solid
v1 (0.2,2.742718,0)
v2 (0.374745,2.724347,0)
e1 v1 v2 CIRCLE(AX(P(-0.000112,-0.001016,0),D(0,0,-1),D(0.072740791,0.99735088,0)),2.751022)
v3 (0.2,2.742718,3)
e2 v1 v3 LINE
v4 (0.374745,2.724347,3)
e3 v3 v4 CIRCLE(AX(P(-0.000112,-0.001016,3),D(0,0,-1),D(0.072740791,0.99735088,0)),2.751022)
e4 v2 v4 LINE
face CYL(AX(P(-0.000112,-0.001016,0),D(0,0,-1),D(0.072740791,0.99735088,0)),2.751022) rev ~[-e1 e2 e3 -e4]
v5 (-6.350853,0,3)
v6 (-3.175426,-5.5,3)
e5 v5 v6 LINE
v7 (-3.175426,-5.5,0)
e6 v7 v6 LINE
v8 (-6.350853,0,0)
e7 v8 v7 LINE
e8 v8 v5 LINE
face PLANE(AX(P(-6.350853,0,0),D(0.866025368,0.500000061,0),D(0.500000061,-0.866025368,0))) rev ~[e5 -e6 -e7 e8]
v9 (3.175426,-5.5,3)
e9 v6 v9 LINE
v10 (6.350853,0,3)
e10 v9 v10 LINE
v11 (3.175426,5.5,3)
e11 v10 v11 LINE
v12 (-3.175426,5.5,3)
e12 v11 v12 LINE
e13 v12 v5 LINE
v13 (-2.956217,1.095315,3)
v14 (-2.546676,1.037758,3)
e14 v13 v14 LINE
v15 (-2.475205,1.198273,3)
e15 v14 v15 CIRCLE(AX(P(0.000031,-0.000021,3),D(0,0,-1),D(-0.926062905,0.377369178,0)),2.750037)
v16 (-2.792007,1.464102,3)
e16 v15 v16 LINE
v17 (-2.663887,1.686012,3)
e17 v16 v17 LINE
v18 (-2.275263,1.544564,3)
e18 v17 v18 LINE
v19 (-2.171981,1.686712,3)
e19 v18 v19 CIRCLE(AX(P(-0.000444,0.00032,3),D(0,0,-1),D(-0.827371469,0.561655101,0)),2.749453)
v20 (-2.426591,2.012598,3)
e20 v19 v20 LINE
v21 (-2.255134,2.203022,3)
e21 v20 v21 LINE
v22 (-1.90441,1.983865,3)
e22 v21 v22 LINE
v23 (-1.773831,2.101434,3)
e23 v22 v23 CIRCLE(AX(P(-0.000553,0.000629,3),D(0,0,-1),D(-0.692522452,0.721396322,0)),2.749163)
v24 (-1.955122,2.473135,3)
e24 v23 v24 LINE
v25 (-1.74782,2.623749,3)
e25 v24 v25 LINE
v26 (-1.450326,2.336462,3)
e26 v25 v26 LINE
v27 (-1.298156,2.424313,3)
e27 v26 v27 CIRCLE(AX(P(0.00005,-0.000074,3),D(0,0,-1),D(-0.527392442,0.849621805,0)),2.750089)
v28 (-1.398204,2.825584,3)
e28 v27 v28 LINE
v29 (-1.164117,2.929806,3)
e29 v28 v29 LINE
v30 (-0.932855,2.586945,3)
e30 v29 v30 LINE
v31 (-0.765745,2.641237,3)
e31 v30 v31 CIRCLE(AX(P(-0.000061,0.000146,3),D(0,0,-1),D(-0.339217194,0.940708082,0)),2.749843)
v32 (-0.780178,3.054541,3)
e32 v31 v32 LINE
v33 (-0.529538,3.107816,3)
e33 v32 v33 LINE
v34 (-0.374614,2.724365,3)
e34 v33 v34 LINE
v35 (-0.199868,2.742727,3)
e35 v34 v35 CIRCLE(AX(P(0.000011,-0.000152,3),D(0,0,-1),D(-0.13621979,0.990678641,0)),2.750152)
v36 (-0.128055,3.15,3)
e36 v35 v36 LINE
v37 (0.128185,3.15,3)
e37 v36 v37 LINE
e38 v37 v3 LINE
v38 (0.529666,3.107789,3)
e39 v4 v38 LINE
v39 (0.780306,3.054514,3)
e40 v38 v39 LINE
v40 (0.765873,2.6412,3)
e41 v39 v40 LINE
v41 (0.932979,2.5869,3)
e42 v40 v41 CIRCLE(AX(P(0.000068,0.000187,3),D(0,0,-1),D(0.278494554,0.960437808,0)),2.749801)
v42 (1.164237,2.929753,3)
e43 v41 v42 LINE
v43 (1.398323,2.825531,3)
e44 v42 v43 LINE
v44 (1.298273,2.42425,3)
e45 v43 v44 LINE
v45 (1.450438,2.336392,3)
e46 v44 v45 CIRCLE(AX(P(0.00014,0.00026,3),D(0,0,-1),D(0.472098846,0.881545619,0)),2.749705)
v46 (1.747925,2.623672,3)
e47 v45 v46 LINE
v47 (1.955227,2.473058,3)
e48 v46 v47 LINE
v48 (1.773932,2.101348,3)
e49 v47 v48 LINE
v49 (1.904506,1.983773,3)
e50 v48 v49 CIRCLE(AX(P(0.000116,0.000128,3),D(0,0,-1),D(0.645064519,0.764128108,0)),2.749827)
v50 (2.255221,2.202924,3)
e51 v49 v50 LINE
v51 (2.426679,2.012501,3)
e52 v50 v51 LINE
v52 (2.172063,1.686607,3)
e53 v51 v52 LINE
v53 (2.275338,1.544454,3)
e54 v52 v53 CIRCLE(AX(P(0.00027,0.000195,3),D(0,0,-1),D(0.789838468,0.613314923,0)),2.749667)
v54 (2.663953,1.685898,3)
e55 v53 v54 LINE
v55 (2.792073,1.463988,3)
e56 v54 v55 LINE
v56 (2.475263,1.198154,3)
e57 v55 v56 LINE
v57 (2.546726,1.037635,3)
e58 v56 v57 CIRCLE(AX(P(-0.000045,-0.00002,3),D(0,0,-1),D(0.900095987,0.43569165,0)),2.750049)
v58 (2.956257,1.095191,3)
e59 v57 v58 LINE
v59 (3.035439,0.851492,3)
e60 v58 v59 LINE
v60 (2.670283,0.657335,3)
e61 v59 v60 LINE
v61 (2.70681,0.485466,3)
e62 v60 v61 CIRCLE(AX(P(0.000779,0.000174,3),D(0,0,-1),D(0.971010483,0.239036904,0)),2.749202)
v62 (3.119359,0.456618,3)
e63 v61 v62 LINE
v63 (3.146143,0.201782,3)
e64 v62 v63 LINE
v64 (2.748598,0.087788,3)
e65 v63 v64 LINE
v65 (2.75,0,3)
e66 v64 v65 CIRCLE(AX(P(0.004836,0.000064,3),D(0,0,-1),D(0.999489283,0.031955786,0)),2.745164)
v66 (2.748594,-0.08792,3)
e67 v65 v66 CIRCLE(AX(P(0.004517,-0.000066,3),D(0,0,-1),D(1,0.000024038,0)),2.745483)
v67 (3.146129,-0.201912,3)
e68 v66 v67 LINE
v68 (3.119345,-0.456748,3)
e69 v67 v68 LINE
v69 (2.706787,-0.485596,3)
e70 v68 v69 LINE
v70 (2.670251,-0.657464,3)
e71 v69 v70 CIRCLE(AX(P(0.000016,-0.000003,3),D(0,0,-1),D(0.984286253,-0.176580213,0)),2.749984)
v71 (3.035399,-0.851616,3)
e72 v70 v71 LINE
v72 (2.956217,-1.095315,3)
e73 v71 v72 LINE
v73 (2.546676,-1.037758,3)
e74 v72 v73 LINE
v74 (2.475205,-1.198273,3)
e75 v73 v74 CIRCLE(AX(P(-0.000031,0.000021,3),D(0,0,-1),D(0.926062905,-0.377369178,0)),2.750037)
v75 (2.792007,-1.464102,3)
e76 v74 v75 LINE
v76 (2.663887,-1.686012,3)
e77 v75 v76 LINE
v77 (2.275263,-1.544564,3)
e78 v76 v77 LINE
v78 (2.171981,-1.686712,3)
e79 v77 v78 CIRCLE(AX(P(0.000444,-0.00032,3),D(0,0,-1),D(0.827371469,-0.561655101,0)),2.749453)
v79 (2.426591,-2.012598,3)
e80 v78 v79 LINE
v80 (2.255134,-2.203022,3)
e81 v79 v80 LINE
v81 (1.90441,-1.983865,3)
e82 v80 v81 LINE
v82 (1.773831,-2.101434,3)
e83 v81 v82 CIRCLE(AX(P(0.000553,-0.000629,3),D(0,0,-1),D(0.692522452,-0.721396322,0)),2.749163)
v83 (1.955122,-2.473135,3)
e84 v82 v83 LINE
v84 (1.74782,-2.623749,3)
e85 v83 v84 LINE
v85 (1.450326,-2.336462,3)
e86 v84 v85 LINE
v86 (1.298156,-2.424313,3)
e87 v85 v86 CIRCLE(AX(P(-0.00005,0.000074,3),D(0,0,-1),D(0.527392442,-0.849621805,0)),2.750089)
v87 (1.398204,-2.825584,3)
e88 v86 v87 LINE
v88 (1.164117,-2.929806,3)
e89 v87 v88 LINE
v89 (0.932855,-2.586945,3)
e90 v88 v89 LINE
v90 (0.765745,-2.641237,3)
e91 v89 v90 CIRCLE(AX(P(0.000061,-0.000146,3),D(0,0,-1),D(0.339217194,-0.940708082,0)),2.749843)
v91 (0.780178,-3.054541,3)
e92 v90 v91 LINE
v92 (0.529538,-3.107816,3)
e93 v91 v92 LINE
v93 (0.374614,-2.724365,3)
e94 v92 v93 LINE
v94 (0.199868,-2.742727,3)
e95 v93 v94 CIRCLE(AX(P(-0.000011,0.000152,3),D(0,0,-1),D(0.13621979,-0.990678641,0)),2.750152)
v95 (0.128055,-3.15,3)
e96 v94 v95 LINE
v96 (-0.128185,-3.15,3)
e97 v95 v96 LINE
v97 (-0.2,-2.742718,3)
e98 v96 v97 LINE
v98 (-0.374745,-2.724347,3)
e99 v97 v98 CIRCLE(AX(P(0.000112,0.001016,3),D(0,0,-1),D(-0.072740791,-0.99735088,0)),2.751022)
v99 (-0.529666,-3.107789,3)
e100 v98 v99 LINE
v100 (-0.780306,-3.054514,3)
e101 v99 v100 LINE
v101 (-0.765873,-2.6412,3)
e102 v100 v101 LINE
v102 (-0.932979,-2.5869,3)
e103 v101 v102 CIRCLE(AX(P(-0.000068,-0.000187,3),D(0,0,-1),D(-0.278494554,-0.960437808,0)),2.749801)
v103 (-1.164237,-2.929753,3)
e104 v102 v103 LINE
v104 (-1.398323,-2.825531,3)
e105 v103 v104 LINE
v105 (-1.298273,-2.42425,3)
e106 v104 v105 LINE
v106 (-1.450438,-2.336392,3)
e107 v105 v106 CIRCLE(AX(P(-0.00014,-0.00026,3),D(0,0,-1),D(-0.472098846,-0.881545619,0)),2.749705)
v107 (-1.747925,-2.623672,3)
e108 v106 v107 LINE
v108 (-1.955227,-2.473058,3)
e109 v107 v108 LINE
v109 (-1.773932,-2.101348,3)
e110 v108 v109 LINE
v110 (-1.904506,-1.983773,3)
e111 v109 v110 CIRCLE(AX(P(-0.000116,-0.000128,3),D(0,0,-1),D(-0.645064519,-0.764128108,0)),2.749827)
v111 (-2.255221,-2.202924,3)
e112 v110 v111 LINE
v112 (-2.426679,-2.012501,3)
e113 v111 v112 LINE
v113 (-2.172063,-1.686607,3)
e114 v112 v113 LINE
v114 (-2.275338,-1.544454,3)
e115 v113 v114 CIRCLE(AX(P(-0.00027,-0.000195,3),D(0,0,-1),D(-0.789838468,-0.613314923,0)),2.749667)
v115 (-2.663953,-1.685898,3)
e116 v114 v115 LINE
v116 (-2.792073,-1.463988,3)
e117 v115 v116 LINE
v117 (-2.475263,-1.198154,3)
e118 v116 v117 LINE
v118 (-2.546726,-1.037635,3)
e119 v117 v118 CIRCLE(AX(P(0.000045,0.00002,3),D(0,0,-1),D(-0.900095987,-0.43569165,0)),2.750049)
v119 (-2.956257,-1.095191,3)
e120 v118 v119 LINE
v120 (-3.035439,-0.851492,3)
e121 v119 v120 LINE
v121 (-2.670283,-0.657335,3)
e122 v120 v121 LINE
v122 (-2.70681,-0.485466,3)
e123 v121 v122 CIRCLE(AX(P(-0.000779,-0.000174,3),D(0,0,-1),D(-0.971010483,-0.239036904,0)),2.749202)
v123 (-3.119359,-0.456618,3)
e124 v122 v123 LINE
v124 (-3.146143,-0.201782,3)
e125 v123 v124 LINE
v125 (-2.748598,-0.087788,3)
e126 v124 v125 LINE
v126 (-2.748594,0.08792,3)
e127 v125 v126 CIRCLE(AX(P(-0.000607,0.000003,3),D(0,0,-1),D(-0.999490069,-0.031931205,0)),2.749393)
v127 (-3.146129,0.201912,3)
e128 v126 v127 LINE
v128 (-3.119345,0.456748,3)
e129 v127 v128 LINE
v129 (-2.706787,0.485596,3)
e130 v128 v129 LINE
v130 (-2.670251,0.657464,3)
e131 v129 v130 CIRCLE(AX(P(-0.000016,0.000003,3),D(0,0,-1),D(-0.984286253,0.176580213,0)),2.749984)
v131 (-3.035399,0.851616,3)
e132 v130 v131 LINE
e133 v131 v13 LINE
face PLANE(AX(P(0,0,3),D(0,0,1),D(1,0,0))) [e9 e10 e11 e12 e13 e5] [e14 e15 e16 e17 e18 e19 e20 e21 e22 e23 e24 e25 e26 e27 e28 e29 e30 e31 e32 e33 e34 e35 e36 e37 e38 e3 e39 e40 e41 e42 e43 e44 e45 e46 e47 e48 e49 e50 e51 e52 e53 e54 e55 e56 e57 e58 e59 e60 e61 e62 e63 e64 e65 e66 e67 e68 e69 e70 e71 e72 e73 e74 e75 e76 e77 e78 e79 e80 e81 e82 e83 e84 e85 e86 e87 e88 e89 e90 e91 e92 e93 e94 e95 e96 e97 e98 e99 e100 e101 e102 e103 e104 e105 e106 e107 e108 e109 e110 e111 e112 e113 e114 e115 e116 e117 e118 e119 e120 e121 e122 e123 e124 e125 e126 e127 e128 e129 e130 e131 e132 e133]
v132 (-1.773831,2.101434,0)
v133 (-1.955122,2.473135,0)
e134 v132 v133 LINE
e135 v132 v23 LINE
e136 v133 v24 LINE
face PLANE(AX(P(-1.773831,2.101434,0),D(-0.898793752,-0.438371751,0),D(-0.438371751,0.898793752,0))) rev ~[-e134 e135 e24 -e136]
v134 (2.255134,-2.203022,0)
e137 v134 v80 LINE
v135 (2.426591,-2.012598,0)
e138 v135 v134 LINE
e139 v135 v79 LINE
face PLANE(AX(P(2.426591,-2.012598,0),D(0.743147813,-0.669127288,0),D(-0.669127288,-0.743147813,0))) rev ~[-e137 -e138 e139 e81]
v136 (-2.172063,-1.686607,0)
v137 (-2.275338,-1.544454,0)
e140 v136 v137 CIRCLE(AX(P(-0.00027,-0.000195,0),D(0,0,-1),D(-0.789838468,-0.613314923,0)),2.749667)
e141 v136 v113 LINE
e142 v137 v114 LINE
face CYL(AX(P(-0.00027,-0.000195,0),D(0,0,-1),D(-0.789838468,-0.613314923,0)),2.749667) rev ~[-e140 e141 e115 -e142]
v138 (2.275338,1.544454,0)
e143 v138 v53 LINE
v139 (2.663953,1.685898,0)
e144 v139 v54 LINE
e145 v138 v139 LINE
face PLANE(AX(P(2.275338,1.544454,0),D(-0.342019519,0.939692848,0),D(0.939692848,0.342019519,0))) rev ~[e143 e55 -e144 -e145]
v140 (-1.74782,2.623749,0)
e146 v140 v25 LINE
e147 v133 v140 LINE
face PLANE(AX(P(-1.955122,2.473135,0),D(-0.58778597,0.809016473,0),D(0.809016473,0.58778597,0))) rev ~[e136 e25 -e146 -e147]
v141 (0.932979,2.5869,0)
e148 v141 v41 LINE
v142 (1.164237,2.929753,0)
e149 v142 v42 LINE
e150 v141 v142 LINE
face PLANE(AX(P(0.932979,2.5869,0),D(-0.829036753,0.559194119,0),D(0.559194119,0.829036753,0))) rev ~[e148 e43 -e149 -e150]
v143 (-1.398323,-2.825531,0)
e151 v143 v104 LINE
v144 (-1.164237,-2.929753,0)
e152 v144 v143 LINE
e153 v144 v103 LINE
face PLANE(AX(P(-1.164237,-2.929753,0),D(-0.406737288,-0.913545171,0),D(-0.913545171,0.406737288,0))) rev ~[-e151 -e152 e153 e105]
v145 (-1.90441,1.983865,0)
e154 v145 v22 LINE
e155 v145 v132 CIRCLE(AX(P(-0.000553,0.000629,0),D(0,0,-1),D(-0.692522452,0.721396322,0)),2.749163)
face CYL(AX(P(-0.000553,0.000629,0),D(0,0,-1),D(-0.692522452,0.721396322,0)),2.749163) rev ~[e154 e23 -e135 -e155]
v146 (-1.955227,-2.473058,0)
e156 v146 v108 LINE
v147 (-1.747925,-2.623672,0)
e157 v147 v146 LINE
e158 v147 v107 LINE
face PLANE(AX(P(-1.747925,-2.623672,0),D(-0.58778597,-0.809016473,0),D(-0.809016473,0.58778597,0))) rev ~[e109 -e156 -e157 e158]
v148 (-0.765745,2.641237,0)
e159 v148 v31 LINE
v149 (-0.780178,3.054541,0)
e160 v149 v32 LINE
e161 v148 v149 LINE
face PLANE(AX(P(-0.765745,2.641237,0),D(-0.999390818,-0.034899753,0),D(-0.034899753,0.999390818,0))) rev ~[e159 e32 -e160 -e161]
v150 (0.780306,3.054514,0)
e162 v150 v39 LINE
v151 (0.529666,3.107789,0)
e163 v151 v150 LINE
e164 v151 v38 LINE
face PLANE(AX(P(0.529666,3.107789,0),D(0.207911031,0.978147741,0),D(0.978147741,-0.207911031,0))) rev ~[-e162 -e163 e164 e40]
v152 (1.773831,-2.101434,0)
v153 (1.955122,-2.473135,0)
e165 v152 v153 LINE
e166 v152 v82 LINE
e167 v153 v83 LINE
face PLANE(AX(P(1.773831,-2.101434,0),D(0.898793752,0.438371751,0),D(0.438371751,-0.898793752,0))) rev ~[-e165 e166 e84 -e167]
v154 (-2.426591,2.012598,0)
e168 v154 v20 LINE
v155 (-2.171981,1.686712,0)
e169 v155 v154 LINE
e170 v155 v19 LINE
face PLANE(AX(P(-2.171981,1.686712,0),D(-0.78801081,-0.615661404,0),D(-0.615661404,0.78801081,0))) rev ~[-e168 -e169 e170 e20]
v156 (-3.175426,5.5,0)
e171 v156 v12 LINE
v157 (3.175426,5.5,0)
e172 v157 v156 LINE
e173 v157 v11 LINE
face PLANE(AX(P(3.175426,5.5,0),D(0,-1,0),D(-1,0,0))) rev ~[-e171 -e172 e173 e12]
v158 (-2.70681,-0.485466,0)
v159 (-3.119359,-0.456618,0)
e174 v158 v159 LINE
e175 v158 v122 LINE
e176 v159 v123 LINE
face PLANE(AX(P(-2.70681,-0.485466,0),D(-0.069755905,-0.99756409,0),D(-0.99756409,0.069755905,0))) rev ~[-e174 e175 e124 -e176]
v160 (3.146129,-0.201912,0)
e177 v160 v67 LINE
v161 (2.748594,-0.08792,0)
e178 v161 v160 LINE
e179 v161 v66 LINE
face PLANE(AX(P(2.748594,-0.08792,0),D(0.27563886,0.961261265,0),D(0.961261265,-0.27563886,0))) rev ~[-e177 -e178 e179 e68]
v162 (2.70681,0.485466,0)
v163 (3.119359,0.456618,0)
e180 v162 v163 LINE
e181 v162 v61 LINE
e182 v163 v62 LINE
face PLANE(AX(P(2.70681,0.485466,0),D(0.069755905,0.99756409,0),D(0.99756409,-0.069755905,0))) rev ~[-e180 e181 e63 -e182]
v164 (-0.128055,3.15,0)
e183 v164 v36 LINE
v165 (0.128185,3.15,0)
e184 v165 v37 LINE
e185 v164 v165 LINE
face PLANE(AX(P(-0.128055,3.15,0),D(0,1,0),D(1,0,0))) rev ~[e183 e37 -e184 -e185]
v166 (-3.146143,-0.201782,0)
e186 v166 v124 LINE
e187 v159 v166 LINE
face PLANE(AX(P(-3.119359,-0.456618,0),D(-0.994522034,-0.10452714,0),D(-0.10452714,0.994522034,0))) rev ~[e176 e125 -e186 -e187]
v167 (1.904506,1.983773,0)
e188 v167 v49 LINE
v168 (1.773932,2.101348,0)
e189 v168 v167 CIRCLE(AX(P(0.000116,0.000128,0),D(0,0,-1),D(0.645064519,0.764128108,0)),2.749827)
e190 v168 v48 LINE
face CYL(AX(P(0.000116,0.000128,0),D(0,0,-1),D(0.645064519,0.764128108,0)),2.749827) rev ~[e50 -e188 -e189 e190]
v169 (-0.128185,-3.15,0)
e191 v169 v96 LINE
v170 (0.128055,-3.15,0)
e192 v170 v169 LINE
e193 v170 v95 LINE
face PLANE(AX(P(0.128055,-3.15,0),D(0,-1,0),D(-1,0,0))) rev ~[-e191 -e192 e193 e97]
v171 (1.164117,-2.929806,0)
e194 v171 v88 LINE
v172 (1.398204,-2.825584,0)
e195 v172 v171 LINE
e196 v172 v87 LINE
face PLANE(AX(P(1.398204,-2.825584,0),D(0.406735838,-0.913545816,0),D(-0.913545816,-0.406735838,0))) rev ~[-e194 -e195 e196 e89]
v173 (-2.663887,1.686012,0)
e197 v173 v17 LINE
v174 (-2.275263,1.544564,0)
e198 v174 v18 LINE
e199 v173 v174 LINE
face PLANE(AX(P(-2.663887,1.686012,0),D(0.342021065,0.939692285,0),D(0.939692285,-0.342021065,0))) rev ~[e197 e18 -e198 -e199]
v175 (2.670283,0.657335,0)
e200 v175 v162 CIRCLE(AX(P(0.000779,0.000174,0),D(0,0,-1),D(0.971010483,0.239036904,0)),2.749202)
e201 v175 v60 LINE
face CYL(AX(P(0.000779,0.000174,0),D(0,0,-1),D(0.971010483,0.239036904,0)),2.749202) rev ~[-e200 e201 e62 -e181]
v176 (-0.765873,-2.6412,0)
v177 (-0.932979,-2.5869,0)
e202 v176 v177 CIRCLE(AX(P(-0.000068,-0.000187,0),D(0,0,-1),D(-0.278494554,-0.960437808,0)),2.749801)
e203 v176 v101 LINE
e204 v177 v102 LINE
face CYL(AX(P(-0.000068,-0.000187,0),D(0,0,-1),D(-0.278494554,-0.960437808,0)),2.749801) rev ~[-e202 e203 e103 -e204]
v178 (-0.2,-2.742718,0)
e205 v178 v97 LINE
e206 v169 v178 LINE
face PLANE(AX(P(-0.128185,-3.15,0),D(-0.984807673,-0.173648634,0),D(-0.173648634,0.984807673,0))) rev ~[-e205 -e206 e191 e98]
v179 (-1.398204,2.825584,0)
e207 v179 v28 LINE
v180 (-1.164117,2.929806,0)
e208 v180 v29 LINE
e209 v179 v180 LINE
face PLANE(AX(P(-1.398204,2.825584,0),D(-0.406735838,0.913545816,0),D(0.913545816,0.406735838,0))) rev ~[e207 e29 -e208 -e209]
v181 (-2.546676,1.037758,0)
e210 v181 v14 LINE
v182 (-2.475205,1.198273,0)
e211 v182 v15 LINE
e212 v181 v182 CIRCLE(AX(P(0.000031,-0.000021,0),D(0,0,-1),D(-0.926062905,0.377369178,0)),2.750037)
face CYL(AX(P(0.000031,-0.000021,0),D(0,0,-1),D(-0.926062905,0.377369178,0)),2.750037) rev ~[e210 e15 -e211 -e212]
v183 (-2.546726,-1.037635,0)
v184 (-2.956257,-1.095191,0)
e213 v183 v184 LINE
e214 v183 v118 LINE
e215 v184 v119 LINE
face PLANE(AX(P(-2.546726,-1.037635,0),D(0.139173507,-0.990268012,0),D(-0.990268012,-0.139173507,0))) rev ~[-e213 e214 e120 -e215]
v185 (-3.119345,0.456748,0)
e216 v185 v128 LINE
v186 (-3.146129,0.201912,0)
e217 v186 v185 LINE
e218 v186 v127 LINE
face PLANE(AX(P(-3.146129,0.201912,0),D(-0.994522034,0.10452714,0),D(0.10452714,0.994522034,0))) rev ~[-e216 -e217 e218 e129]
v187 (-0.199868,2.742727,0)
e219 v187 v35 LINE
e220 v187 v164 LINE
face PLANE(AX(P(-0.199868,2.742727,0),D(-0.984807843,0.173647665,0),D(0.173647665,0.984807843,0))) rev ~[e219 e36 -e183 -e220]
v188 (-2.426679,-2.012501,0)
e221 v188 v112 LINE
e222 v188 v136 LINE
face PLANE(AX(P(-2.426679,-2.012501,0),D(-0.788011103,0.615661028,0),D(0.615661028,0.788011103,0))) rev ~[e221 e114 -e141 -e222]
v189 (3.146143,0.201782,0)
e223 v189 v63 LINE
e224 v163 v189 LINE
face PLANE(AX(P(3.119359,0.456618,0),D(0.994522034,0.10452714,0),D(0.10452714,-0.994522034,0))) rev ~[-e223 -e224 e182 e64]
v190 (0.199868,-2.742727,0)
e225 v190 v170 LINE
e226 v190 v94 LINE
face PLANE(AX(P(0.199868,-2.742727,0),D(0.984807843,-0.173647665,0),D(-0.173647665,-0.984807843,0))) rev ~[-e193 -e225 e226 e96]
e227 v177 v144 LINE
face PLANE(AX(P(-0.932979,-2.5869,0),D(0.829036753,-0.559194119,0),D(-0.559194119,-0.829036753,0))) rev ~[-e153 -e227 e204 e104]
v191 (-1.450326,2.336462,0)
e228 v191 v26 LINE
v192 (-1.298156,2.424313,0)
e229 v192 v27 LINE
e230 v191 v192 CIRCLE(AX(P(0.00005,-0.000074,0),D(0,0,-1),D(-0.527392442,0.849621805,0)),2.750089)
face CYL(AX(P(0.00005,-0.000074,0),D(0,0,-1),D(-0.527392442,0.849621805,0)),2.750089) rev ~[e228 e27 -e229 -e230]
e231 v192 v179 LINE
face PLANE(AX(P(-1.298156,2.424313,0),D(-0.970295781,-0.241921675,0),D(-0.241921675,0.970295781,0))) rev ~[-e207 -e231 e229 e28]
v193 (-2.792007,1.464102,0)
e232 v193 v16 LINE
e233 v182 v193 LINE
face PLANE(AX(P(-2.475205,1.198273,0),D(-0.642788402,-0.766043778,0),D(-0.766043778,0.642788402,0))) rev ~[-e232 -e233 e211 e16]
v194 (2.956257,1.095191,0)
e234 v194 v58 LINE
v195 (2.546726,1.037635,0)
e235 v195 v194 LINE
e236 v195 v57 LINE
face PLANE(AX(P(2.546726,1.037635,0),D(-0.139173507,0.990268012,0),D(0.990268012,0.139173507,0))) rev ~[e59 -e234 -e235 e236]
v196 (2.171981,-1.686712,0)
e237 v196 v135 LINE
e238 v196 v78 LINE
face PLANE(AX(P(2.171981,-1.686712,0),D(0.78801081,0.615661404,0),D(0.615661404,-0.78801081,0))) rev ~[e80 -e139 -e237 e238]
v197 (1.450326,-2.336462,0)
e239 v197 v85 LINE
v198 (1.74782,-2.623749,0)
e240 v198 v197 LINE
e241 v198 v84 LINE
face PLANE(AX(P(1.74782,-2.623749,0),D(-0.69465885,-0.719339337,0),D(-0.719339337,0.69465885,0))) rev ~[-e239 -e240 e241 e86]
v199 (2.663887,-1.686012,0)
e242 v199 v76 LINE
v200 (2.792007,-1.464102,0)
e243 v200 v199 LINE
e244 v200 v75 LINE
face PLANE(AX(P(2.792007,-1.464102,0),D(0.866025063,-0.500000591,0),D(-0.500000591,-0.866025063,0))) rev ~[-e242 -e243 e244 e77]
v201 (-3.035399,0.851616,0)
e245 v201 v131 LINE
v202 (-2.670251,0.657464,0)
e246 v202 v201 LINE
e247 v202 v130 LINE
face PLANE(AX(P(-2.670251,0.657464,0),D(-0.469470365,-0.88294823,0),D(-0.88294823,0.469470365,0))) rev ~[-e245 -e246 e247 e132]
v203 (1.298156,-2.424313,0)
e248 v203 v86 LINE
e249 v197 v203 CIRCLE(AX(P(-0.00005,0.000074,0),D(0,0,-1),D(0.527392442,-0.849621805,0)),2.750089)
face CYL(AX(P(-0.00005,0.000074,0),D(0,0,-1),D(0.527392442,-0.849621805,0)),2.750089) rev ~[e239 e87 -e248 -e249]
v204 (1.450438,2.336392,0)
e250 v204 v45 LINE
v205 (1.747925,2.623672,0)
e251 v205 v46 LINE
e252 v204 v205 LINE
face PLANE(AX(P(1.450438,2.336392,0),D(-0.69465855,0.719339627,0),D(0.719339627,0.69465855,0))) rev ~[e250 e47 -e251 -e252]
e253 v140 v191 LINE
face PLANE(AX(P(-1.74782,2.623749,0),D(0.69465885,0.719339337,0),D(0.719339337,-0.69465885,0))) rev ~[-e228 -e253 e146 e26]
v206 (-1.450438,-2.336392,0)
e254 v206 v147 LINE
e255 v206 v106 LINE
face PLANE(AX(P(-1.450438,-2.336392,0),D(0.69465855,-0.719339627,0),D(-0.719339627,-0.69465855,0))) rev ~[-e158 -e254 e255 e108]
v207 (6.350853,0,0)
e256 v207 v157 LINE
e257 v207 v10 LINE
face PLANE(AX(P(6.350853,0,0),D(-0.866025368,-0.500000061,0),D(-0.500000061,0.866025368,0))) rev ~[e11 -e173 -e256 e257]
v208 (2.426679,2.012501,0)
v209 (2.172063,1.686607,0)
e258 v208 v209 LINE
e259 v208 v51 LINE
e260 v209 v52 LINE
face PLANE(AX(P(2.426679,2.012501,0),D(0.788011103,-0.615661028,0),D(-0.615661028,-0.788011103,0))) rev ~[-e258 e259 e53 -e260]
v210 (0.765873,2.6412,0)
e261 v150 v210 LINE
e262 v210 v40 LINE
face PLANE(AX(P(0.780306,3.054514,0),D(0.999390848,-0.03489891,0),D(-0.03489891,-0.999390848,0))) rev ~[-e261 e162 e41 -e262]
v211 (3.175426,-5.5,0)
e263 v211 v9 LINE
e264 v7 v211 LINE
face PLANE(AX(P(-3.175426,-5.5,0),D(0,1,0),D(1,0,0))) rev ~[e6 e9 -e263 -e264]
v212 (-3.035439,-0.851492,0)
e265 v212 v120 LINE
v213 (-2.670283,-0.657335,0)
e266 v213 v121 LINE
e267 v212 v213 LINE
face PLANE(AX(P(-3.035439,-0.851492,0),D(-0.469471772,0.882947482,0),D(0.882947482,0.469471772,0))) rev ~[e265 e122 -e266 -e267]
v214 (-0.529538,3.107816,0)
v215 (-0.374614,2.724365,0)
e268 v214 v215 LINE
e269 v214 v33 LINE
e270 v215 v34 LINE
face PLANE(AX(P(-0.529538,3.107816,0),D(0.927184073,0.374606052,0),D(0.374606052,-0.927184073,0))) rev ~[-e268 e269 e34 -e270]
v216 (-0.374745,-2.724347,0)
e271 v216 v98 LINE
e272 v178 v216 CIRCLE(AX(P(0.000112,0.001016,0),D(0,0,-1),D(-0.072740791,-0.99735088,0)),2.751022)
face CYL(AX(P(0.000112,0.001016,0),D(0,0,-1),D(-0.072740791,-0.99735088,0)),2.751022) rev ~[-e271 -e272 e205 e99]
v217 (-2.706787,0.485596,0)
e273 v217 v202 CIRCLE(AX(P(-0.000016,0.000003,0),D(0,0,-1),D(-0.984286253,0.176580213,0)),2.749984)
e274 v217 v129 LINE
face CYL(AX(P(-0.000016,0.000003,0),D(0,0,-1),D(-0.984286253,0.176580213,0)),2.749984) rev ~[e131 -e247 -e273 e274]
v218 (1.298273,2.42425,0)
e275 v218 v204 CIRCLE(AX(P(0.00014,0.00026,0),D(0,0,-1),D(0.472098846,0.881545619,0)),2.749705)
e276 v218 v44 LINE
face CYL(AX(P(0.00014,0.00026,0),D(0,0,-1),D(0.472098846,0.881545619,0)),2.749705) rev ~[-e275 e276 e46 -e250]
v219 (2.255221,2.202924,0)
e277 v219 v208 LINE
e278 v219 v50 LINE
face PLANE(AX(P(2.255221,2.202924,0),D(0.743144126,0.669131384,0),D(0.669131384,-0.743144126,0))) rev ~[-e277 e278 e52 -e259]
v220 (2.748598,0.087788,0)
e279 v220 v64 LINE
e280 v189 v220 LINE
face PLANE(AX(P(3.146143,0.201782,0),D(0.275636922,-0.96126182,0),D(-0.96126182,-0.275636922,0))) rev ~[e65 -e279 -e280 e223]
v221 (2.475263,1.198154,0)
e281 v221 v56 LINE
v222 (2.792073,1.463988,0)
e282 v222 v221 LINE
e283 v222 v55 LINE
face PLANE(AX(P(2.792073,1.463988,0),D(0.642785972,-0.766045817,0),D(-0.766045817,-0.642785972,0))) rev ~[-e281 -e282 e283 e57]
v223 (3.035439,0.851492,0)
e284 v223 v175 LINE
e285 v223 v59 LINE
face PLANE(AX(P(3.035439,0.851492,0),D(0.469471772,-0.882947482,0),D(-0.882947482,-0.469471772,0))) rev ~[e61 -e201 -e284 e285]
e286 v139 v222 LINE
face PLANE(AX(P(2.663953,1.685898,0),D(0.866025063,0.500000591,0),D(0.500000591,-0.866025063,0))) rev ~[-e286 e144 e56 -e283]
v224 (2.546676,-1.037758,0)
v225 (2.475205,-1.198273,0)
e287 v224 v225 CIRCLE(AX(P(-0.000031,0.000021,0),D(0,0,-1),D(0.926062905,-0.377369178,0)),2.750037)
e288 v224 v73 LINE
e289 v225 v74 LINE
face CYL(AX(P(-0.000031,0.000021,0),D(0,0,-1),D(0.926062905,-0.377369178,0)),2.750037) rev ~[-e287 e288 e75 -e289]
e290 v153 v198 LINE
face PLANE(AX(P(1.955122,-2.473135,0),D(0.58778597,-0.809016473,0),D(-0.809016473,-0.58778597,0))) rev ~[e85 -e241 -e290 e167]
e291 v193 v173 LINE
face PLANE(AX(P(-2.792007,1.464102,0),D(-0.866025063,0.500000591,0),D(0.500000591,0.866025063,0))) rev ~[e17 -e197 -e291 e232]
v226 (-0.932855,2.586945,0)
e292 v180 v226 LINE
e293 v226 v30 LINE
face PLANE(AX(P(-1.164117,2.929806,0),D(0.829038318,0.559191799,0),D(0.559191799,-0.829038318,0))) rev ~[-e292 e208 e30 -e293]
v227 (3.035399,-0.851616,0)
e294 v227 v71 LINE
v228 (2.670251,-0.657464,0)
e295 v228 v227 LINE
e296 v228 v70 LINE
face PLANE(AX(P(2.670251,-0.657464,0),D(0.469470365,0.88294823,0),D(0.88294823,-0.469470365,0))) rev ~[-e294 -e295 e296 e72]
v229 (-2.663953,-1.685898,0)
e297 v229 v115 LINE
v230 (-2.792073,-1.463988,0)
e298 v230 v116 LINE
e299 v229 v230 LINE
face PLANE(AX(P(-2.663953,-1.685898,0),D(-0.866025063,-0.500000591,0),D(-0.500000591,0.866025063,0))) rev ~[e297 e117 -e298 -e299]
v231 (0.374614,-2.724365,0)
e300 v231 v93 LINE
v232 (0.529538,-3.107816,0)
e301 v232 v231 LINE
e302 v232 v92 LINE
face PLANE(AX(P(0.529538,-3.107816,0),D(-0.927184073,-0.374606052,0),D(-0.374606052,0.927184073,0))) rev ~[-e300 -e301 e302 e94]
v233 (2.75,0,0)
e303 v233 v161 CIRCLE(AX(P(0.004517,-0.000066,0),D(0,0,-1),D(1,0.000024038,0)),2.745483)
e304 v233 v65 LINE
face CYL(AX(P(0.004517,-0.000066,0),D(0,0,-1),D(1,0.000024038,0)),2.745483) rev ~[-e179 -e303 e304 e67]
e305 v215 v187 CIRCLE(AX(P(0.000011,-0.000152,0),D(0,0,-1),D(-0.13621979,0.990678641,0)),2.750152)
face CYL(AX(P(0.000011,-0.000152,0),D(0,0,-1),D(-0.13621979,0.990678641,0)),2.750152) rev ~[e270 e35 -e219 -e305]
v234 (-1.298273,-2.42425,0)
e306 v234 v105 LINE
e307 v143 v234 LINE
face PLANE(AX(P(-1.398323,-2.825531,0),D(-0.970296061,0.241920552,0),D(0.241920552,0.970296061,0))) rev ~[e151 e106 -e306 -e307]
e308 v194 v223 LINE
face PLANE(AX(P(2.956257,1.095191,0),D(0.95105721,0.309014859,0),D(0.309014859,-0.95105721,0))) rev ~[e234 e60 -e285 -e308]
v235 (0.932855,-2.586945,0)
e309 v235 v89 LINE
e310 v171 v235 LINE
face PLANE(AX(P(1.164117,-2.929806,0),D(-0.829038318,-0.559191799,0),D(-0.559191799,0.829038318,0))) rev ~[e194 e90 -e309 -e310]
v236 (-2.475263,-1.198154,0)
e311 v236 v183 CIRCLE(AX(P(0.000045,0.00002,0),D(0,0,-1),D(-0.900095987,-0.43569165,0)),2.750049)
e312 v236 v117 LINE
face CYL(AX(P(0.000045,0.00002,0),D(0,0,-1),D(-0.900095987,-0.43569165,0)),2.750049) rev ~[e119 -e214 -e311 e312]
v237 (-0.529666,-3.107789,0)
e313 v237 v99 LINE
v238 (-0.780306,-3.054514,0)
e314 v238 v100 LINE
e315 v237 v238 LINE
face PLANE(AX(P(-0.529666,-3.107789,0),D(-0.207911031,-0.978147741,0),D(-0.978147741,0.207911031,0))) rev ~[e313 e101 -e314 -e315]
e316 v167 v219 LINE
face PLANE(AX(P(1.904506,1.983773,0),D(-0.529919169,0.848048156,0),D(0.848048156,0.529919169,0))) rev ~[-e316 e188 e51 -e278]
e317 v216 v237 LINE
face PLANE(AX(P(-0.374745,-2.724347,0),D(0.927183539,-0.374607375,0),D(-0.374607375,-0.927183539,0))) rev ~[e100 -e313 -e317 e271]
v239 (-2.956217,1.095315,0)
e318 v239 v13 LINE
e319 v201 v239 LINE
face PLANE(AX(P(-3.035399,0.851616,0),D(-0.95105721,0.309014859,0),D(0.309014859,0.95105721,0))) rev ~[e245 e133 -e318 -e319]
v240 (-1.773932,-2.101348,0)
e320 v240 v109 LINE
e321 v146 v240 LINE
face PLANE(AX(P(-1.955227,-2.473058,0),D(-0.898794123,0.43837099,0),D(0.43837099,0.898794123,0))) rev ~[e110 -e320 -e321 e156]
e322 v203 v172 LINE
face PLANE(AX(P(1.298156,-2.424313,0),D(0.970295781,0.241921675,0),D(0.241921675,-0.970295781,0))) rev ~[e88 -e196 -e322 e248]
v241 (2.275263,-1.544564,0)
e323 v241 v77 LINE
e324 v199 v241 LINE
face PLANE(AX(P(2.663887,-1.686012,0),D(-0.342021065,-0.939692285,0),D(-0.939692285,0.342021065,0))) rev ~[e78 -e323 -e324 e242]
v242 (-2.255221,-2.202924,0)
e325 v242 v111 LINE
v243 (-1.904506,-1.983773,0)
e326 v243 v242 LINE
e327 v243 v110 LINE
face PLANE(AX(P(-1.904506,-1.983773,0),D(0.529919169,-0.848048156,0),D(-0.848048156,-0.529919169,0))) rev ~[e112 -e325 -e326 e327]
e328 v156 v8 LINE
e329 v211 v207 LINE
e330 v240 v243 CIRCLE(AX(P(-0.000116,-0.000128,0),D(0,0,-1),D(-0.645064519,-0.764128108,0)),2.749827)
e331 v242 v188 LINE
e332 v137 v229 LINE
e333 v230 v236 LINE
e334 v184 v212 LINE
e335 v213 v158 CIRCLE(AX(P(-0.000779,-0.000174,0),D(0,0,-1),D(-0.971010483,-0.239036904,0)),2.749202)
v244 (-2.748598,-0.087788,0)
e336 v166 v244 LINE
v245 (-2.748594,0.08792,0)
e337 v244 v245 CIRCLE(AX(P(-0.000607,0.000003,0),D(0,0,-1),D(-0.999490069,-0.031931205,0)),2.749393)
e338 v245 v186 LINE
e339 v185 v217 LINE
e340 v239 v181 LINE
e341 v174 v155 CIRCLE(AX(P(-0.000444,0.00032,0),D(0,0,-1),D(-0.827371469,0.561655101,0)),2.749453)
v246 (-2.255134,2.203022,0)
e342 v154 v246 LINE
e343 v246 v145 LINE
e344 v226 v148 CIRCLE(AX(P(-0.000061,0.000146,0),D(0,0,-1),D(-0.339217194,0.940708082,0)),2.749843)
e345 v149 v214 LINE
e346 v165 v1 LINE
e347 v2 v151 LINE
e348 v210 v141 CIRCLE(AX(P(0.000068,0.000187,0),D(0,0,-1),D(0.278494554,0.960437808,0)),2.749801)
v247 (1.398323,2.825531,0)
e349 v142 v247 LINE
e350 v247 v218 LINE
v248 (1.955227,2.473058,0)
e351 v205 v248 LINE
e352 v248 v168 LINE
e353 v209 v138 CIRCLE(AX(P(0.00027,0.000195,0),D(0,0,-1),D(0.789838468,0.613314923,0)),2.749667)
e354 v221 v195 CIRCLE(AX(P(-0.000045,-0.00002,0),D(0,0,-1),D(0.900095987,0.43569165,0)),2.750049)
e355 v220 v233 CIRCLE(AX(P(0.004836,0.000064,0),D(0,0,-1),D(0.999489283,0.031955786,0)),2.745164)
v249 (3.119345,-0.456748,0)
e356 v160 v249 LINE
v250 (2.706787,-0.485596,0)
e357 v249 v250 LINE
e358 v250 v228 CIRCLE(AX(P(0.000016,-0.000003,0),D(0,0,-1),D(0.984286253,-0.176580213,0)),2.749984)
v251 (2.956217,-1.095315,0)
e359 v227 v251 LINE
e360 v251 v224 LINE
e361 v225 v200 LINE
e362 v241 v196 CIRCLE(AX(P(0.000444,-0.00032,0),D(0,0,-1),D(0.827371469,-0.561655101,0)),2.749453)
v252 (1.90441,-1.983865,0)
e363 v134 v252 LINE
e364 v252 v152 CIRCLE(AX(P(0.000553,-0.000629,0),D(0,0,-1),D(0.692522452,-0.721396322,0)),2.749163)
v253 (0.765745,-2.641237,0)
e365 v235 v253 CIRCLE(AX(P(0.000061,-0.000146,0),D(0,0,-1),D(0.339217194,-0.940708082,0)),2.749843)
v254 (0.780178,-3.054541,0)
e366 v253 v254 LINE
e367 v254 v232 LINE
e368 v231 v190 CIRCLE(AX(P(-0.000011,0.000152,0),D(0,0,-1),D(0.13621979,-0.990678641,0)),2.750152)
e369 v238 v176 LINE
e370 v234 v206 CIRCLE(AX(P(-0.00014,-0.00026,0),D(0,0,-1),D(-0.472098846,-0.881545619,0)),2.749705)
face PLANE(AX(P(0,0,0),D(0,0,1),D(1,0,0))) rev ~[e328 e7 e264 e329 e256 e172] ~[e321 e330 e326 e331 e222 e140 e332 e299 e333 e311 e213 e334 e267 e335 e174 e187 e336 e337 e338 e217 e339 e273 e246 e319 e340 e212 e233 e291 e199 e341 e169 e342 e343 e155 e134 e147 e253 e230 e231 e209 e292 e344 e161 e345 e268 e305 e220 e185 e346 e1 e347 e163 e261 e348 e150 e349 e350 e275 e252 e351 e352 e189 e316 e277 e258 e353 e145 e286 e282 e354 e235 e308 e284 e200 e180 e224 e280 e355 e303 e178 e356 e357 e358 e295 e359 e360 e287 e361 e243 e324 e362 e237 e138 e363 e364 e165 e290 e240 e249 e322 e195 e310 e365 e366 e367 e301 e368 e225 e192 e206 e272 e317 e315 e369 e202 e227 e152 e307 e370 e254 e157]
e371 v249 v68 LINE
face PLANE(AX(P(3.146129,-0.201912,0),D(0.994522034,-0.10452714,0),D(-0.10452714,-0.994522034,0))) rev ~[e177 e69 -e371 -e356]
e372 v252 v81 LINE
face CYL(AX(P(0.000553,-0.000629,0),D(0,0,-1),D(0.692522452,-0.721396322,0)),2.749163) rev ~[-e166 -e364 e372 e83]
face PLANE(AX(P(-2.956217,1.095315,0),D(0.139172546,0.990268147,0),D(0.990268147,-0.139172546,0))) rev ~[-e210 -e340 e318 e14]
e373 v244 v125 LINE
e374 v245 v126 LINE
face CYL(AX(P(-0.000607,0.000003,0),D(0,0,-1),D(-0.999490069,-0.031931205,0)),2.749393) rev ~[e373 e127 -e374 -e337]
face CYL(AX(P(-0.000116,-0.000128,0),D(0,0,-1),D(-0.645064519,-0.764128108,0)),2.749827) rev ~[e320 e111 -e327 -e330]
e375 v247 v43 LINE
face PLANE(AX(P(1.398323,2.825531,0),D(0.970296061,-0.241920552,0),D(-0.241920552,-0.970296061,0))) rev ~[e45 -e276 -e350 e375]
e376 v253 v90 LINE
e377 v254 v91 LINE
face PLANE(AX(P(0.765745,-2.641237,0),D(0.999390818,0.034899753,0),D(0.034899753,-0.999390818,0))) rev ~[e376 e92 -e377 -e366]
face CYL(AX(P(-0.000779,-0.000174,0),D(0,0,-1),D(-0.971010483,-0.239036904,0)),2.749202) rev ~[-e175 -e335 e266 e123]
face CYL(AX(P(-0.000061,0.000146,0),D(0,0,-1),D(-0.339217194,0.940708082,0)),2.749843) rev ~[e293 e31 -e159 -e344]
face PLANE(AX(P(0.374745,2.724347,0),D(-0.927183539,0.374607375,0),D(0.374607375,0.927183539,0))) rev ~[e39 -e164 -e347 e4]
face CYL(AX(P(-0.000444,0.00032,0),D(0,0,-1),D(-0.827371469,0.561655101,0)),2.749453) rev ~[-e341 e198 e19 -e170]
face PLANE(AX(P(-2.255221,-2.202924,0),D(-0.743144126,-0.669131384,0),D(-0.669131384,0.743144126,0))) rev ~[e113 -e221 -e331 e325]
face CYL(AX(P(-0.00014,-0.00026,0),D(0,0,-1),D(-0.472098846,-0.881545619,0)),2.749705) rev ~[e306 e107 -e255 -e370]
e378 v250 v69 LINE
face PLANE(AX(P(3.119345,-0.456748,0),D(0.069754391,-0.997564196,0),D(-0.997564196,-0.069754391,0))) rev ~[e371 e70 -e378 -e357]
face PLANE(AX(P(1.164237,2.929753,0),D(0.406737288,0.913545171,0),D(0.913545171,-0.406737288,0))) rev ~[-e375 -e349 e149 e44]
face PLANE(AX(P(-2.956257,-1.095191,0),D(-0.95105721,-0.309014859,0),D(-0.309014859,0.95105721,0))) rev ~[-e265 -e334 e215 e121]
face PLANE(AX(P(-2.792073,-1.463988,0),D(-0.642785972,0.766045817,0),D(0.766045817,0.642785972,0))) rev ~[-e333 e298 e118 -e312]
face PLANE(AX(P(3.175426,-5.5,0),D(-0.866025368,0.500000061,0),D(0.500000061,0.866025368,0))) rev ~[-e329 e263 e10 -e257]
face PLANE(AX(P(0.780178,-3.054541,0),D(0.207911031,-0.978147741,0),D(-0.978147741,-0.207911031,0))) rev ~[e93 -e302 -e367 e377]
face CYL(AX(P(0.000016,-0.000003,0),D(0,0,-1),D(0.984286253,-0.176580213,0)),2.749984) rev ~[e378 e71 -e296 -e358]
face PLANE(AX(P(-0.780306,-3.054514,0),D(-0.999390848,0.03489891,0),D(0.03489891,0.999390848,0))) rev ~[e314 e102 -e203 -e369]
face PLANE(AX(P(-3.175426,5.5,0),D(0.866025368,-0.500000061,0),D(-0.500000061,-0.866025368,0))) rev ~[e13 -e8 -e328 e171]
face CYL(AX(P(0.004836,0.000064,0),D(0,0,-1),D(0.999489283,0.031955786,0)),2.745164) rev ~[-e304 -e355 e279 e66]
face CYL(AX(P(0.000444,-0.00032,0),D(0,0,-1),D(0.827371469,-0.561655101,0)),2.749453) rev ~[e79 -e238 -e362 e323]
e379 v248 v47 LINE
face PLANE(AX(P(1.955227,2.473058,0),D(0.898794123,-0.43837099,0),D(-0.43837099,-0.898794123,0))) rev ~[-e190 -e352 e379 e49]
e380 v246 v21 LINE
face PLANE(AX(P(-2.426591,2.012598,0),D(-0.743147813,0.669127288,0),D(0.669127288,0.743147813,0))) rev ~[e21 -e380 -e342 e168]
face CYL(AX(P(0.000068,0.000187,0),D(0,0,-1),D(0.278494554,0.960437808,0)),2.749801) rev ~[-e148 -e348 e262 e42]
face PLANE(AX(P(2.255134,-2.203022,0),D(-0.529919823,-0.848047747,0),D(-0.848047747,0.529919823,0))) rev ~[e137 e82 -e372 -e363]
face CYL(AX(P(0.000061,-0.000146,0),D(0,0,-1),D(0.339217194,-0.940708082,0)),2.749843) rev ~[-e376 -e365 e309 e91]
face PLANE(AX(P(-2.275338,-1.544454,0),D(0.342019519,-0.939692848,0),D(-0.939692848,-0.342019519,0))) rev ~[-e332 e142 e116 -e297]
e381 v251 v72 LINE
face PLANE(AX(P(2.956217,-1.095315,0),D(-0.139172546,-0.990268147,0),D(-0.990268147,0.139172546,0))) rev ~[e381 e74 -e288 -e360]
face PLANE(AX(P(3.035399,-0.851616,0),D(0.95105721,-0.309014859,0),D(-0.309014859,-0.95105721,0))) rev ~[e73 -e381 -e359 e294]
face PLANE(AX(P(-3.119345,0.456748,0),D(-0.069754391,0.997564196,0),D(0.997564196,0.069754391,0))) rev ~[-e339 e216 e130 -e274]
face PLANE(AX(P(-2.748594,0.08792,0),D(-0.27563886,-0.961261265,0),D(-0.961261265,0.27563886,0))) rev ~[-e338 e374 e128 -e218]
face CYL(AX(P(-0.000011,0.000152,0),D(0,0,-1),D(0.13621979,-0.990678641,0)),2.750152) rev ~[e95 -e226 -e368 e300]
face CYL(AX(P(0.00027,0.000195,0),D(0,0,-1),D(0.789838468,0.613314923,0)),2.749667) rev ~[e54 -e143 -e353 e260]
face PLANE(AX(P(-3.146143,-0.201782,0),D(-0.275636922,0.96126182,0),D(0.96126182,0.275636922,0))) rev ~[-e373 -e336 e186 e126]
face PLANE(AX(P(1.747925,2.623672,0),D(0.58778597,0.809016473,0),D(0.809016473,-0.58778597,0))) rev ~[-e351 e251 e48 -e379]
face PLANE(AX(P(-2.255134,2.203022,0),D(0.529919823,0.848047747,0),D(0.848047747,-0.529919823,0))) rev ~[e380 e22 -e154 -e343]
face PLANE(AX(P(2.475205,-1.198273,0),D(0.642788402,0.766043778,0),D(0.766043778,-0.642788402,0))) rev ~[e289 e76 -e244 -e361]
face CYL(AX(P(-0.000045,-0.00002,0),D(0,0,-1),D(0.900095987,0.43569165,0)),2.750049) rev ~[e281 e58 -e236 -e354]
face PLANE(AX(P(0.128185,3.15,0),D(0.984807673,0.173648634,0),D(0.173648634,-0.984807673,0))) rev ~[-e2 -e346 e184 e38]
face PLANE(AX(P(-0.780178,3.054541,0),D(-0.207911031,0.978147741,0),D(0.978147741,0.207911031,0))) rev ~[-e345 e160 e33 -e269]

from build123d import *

# Parameters (mm, degrees)
F1_DEPTH = 3


with BuildPart() as f1:
    # F0 (on Top) → F1 (new body)
    with BuildSketch(Plane.XY):
        Polygon((3.175426, 5.5), (-3.175426, 5.5), (-6.350853, 0), (-3.175426, -5.5), (3.175426, -5.5), (6.350853, 0), align=None)
        with BuildLine():
            ThreePointArc((2.748598, 0.087788), (2.74965, 0.043899), (2.75, 0))
            ThreePointArc((2.75, 0), (2.749649, -0.043966), (2.748594, -0.08792))
            Line((2.748594, -0.08792), (3.146129, -0.201912))
            Line((3.146129, -0.201912), (3.119345, -0.456748))
            Line((3.119345, -0.456748), (2.706787, -0.485596))
            ThreePointArc((2.706787, -0.485596), (2.689892, -0.571822), (2.670251, -0.657464))
            Line((2.670251, -0.657464), (3.035399, -0.851616))
            Line((3.035399, -0.851616), (2.956217, -1.095315))
            Line((2.956217, -1.095315), (2.546676, -1.037758))
            ThreePointArc((2.546676, -1.037758), (2.512223, -1.118586), (2.475205, -1.198273))
            Line((2.475205, -1.198273), (2.792007, -1.464102))
            Line((2.792007, -1.464102), (2.663887, -1.686012))
            Line((2.663887, -1.686012), (2.275263, -1.544564))
            ThreePointArc((2.275263, -1.544564), (2.224758, -1.616463), (2.171981, -1.686712))
            Line((2.171981, -1.686712), (2.426591, -2.012598))
            Line((2.426591, -2.012598), (2.255134, -2.203022))
            Line((2.255134, -2.203022), (1.90441, -1.983865))
            ThreePointArc((1.90441, -1.983865), (1.84006, -2.043693), (1.773831, -2.101434))
            Line((1.773831, -2.101434), (1.955122, -2.473135))
            Line((1.955122, -2.473135), (1.74782, -2.623749))
            Line((1.74782, -2.623749), (1.450326, -2.336462))
            ThreePointArc((1.450326, -2.336462), (1.374943, -2.381603), (1.298156, -2.424313))
            Line((1.298156, -2.424313), (1.398204, -2.825584))
            Line((1.398204, -2.825584), (1.164117, -2.929806))
            Line((1.164117, -2.929806), (0.932855, -2.586945))
            ThreePointArc((0.932855, -2.586945), (0.849734, -2.615426), (0.765745, -2.641237))
            Line((0.765745, -2.641237), (0.780178, -3.054541))
            Line((0.780178, -3.054541), (0.529538, -3.107816))
            Line((0.529538, -3.107816), (0.374614, -2.724365))
            ThreePointArc((0.374614, -2.724365), (0.287387, -2.734942), (0.199868, -2.742727))
            Line((0.199868, -2.742727), (0.128055, -3.15))
            Line((0.128055, -3.15), (-0.128185, -3.15))
            Line((-0.128185, -3.15), (-0.2, -2.742718))
            ThreePointArc((-0.2, -2.742718), (-0.287519, -2.734928), (-0.374745, -2.724347))
            Line((-0.374745, -2.724347), (-0.529666, -3.107789))
            Line((-0.529666, -3.107789), (-0.780306, -3.054514))
            Line((-0.780306, -3.054514), (-0.765873, -2.6412))
            ThreePointArc((-0.765873, -2.6412), (-0.84986, -2.615385), (-0.932979, -2.5869))
            Line((-0.932979, -2.5869), (-1.164237, -2.929753))
            Line((-1.164237, -2.929753), (-1.398323, -2.825531))
            Line((-1.398323, -2.825531), (-1.298273, -2.42425))
            ThreePointArc((-1.298273, -2.42425), (-1.375057, -2.381537), (-1.450438, -2.336392))
            Line((-1.450438, -2.336392), (-1.747925, -2.623672))
            Line((-1.747925, -2.623672), (-1.955227, -2.473058))
            Line((-1.955227, -2.473058), (-1.773932, -2.101348))
            ThreePointArc((-1.773932, -2.101348), (-1.840158, -2.043604), (-1.904506, -1.983773))
            Line((-1.904506, -1.983773), (-2.255221, -2.202924))
            Line((-2.255221, -2.202924), (-2.426679, -2.012501))
            Line((-2.426679, -2.012501), (-2.172063, -1.686607))
            ThreePointArc((-2.172063, -1.686607), (-2.224836, -1.616356), (-2.275338, -1.544454))
            Line((-2.275338, -1.544454), (-2.663953, -1.685898))
            Line((-2.663953, -1.685898), (-2.792073, -1.463988))
            Line((-2.792073, -1.463988), (-2.475263, -1.198154))
            ThreePointArc((-2.475263, -1.198154), (-2.512277, -1.118465), (-2.546726, -1.037635))
            Line((-2.546726, -1.037635), (-2.956257, -1.095191))
            Line((-2.956257, -1.095191), (-3.035439, -0.851492))
            Line((-3.035439, -0.851492), (-2.670283, -0.657335))
            ThreePointArc((-2.670283, -0.657335), (-2.68992, -0.571692), (-2.70681, -0.485466))
            Line((-2.70681, -0.485466), (-3.119359, -0.456618))
            Line((-3.119359, -0.456618), (-3.146143, -0.201782))
            Line((-3.146143, -0.201782), (-2.748598, -0.087788))
            ThreePointArc((-2.748598, -0.087788), (-2.75, 6.6e-05), (-2.748594, 0.08792))
            Line((-2.748594, 0.08792), (-3.146129, 0.201912))
            Line((-3.146129, 0.201912), (-3.119345, 0.456748))
            Line((-3.119345, 0.456748), (-2.706787, 0.485596))
            ThreePointArc((-2.706787, 0.485596), (-2.689892, 0.571822), (-2.670251, 0.657464))
            Line((-2.670251, 0.657464), (-3.035399, 0.851616))
            Line((-3.035399, 0.851616), (-2.956217, 1.095315))
            Line((-2.956217, 1.095315), (-2.546676, 1.037758))
            ThreePointArc((-2.546676, 1.037758), (-2.512223, 1.118586), (-2.475205, 1.198273))
            Line((-2.475205, 1.198273), (-2.792007, 1.464102))
            Line((-2.792007, 1.464102), (-2.663887, 1.686012))
            Line((-2.663887, 1.686012), (-2.275263, 1.544564))
            ThreePointArc((-2.275263, 1.544564), (-2.224758, 1.616463), (-2.171981, 1.686712))
            Line((-2.171981, 1.686712), (-2.426591, 2.012598))
            Line((-2.426591, 2.012598), (-2.255134, 2.203022))
            Line((-2.255134, 2.203022), (-1.90441, 1.983865))
            ThreePointArc((-1.90441, 1.983865), (-1.84006, 2.043693), (-1.773831, 2.101434))
            Line((-1.773831, 2.101434), (-1.955122, 2.473135))
            Line((-1.955122, 2.473135), (-1.74782, 2.623749))
            Line((-1.74782, 2.623749), (-1.450326, 2.336462))
            ThreePointArc((-1.450326, 2.336462), (-1.374943, 2.381603), (-1.298156, 2.424313))
            Line((-1.298156, 2.424313), (-1.398204, 2.825584))
            Line((-1.398204, 2.825584), (-1.164117, 2.929806))
            Line((-1.164117, 2.929806), (-0.932855, 2.586945))
            ThreePointArc((-0.932855, 2.586945), (-0.849734, 2.615426), (-0.765745, 2.641237))
            Line((-0.765745, 2.641237), (-0.780178, 3.054541))
            Line((-0.780178, 3.054541), (-0.529538, 3.107816))
            Line((-0.529538, 3.107816), (-0.374614, 2.724365))
            ThreePointArc((-0.374614, 2.724365), (-0.287387, 2.734942), (-0.199868, 2.742727))
            Line((-0.199868, 2.742727), (-0.128055, 3.15))
            Line((-0.128055, 3.15), (0.128185, 3.15))
            Line((0.128185, 3.15), (0.2, 2.742718))
            ThreePointArc((0.2, 2.742718), (0.287519, 2.734928), (0.374745, 2.724347))
            Line((0.374745, 2.724347), (0.529666, 3.107789))
            Line((0.529666, 3.107789), (0.780306, 3.054514))
            Line((0.780306, 3.054514), (0.765873, 2.6412))
            ThreePointArc((0.765873, 2.6412), (0.84986, 2.615385), (0.932979, 2.5869))
            Line((0.932979, 2.5869), (1.164237, 2.929753))
            Line((1.164237, 2.929753), (1.398323, 2.825531))
            Line((1.398323, 2.825531), (1.298273, 2.42425))
            ThreePointArc((1.298273, 2.42425), (1.375057, 2.381537), (1.450438, 2.336392))
            Line((1.450438, 2.336392), (1.747925, 2.623672))
            Line((1.747925, 2.623672), (1.955227, 2.473058))
            Line((1.955227, 2.473058), (1.773932, 2.101348))
            ThreePointArc((1.773932, 2.101348), (1.840158, 2.043604), (1.904506, 1.983773))
            Line((1.904506, 1.983773), (2.255221, 2.202924))
            Line((2.255221, 2.202924), (2.426679, 2.012501))
            Line((2.426679, 2.012501), (2.172063, 1.686607))
            ThreePointArc((2.172063, 1.686607), (2.224836, 1.616356), (2.275338, 1.544454))
            Line((2.275338, 1.544454), (2.663953, 1.685898))
            Line((2.663953, 1.685898), (2.792073, 1.463988))
            Line((2.792073, 1.463988), (2.475263, 1.198154))
            ThreePointArc((2.475263, 1.198154), (2.512277, 1.118465), (2.546726, 1.037635))
            Line((2.546726, 1.037635), (2.956257, 1.095191))
            Line((2.956257, 1.095191), (3.035439, 0.851492))
            Line((3.035439, 0.851492), (2.670283, 0.657335))
            ThreePointArc((2.670283, 0.657335), (2.68992, 0.571692), (2.70681, 0.485466))
            Line((2.70681, 0.485466), (3.119359, 0.456618))
            Line((3.119359, 0.456618), (3.146143, 0.201782))
            Line((3.146143, 0.201782), (2.748598, 0.087788))
        make_face(mode=Mode.SUBTRACT)
    extrude(amount=F1_DEPTH)


solid = f1.part
